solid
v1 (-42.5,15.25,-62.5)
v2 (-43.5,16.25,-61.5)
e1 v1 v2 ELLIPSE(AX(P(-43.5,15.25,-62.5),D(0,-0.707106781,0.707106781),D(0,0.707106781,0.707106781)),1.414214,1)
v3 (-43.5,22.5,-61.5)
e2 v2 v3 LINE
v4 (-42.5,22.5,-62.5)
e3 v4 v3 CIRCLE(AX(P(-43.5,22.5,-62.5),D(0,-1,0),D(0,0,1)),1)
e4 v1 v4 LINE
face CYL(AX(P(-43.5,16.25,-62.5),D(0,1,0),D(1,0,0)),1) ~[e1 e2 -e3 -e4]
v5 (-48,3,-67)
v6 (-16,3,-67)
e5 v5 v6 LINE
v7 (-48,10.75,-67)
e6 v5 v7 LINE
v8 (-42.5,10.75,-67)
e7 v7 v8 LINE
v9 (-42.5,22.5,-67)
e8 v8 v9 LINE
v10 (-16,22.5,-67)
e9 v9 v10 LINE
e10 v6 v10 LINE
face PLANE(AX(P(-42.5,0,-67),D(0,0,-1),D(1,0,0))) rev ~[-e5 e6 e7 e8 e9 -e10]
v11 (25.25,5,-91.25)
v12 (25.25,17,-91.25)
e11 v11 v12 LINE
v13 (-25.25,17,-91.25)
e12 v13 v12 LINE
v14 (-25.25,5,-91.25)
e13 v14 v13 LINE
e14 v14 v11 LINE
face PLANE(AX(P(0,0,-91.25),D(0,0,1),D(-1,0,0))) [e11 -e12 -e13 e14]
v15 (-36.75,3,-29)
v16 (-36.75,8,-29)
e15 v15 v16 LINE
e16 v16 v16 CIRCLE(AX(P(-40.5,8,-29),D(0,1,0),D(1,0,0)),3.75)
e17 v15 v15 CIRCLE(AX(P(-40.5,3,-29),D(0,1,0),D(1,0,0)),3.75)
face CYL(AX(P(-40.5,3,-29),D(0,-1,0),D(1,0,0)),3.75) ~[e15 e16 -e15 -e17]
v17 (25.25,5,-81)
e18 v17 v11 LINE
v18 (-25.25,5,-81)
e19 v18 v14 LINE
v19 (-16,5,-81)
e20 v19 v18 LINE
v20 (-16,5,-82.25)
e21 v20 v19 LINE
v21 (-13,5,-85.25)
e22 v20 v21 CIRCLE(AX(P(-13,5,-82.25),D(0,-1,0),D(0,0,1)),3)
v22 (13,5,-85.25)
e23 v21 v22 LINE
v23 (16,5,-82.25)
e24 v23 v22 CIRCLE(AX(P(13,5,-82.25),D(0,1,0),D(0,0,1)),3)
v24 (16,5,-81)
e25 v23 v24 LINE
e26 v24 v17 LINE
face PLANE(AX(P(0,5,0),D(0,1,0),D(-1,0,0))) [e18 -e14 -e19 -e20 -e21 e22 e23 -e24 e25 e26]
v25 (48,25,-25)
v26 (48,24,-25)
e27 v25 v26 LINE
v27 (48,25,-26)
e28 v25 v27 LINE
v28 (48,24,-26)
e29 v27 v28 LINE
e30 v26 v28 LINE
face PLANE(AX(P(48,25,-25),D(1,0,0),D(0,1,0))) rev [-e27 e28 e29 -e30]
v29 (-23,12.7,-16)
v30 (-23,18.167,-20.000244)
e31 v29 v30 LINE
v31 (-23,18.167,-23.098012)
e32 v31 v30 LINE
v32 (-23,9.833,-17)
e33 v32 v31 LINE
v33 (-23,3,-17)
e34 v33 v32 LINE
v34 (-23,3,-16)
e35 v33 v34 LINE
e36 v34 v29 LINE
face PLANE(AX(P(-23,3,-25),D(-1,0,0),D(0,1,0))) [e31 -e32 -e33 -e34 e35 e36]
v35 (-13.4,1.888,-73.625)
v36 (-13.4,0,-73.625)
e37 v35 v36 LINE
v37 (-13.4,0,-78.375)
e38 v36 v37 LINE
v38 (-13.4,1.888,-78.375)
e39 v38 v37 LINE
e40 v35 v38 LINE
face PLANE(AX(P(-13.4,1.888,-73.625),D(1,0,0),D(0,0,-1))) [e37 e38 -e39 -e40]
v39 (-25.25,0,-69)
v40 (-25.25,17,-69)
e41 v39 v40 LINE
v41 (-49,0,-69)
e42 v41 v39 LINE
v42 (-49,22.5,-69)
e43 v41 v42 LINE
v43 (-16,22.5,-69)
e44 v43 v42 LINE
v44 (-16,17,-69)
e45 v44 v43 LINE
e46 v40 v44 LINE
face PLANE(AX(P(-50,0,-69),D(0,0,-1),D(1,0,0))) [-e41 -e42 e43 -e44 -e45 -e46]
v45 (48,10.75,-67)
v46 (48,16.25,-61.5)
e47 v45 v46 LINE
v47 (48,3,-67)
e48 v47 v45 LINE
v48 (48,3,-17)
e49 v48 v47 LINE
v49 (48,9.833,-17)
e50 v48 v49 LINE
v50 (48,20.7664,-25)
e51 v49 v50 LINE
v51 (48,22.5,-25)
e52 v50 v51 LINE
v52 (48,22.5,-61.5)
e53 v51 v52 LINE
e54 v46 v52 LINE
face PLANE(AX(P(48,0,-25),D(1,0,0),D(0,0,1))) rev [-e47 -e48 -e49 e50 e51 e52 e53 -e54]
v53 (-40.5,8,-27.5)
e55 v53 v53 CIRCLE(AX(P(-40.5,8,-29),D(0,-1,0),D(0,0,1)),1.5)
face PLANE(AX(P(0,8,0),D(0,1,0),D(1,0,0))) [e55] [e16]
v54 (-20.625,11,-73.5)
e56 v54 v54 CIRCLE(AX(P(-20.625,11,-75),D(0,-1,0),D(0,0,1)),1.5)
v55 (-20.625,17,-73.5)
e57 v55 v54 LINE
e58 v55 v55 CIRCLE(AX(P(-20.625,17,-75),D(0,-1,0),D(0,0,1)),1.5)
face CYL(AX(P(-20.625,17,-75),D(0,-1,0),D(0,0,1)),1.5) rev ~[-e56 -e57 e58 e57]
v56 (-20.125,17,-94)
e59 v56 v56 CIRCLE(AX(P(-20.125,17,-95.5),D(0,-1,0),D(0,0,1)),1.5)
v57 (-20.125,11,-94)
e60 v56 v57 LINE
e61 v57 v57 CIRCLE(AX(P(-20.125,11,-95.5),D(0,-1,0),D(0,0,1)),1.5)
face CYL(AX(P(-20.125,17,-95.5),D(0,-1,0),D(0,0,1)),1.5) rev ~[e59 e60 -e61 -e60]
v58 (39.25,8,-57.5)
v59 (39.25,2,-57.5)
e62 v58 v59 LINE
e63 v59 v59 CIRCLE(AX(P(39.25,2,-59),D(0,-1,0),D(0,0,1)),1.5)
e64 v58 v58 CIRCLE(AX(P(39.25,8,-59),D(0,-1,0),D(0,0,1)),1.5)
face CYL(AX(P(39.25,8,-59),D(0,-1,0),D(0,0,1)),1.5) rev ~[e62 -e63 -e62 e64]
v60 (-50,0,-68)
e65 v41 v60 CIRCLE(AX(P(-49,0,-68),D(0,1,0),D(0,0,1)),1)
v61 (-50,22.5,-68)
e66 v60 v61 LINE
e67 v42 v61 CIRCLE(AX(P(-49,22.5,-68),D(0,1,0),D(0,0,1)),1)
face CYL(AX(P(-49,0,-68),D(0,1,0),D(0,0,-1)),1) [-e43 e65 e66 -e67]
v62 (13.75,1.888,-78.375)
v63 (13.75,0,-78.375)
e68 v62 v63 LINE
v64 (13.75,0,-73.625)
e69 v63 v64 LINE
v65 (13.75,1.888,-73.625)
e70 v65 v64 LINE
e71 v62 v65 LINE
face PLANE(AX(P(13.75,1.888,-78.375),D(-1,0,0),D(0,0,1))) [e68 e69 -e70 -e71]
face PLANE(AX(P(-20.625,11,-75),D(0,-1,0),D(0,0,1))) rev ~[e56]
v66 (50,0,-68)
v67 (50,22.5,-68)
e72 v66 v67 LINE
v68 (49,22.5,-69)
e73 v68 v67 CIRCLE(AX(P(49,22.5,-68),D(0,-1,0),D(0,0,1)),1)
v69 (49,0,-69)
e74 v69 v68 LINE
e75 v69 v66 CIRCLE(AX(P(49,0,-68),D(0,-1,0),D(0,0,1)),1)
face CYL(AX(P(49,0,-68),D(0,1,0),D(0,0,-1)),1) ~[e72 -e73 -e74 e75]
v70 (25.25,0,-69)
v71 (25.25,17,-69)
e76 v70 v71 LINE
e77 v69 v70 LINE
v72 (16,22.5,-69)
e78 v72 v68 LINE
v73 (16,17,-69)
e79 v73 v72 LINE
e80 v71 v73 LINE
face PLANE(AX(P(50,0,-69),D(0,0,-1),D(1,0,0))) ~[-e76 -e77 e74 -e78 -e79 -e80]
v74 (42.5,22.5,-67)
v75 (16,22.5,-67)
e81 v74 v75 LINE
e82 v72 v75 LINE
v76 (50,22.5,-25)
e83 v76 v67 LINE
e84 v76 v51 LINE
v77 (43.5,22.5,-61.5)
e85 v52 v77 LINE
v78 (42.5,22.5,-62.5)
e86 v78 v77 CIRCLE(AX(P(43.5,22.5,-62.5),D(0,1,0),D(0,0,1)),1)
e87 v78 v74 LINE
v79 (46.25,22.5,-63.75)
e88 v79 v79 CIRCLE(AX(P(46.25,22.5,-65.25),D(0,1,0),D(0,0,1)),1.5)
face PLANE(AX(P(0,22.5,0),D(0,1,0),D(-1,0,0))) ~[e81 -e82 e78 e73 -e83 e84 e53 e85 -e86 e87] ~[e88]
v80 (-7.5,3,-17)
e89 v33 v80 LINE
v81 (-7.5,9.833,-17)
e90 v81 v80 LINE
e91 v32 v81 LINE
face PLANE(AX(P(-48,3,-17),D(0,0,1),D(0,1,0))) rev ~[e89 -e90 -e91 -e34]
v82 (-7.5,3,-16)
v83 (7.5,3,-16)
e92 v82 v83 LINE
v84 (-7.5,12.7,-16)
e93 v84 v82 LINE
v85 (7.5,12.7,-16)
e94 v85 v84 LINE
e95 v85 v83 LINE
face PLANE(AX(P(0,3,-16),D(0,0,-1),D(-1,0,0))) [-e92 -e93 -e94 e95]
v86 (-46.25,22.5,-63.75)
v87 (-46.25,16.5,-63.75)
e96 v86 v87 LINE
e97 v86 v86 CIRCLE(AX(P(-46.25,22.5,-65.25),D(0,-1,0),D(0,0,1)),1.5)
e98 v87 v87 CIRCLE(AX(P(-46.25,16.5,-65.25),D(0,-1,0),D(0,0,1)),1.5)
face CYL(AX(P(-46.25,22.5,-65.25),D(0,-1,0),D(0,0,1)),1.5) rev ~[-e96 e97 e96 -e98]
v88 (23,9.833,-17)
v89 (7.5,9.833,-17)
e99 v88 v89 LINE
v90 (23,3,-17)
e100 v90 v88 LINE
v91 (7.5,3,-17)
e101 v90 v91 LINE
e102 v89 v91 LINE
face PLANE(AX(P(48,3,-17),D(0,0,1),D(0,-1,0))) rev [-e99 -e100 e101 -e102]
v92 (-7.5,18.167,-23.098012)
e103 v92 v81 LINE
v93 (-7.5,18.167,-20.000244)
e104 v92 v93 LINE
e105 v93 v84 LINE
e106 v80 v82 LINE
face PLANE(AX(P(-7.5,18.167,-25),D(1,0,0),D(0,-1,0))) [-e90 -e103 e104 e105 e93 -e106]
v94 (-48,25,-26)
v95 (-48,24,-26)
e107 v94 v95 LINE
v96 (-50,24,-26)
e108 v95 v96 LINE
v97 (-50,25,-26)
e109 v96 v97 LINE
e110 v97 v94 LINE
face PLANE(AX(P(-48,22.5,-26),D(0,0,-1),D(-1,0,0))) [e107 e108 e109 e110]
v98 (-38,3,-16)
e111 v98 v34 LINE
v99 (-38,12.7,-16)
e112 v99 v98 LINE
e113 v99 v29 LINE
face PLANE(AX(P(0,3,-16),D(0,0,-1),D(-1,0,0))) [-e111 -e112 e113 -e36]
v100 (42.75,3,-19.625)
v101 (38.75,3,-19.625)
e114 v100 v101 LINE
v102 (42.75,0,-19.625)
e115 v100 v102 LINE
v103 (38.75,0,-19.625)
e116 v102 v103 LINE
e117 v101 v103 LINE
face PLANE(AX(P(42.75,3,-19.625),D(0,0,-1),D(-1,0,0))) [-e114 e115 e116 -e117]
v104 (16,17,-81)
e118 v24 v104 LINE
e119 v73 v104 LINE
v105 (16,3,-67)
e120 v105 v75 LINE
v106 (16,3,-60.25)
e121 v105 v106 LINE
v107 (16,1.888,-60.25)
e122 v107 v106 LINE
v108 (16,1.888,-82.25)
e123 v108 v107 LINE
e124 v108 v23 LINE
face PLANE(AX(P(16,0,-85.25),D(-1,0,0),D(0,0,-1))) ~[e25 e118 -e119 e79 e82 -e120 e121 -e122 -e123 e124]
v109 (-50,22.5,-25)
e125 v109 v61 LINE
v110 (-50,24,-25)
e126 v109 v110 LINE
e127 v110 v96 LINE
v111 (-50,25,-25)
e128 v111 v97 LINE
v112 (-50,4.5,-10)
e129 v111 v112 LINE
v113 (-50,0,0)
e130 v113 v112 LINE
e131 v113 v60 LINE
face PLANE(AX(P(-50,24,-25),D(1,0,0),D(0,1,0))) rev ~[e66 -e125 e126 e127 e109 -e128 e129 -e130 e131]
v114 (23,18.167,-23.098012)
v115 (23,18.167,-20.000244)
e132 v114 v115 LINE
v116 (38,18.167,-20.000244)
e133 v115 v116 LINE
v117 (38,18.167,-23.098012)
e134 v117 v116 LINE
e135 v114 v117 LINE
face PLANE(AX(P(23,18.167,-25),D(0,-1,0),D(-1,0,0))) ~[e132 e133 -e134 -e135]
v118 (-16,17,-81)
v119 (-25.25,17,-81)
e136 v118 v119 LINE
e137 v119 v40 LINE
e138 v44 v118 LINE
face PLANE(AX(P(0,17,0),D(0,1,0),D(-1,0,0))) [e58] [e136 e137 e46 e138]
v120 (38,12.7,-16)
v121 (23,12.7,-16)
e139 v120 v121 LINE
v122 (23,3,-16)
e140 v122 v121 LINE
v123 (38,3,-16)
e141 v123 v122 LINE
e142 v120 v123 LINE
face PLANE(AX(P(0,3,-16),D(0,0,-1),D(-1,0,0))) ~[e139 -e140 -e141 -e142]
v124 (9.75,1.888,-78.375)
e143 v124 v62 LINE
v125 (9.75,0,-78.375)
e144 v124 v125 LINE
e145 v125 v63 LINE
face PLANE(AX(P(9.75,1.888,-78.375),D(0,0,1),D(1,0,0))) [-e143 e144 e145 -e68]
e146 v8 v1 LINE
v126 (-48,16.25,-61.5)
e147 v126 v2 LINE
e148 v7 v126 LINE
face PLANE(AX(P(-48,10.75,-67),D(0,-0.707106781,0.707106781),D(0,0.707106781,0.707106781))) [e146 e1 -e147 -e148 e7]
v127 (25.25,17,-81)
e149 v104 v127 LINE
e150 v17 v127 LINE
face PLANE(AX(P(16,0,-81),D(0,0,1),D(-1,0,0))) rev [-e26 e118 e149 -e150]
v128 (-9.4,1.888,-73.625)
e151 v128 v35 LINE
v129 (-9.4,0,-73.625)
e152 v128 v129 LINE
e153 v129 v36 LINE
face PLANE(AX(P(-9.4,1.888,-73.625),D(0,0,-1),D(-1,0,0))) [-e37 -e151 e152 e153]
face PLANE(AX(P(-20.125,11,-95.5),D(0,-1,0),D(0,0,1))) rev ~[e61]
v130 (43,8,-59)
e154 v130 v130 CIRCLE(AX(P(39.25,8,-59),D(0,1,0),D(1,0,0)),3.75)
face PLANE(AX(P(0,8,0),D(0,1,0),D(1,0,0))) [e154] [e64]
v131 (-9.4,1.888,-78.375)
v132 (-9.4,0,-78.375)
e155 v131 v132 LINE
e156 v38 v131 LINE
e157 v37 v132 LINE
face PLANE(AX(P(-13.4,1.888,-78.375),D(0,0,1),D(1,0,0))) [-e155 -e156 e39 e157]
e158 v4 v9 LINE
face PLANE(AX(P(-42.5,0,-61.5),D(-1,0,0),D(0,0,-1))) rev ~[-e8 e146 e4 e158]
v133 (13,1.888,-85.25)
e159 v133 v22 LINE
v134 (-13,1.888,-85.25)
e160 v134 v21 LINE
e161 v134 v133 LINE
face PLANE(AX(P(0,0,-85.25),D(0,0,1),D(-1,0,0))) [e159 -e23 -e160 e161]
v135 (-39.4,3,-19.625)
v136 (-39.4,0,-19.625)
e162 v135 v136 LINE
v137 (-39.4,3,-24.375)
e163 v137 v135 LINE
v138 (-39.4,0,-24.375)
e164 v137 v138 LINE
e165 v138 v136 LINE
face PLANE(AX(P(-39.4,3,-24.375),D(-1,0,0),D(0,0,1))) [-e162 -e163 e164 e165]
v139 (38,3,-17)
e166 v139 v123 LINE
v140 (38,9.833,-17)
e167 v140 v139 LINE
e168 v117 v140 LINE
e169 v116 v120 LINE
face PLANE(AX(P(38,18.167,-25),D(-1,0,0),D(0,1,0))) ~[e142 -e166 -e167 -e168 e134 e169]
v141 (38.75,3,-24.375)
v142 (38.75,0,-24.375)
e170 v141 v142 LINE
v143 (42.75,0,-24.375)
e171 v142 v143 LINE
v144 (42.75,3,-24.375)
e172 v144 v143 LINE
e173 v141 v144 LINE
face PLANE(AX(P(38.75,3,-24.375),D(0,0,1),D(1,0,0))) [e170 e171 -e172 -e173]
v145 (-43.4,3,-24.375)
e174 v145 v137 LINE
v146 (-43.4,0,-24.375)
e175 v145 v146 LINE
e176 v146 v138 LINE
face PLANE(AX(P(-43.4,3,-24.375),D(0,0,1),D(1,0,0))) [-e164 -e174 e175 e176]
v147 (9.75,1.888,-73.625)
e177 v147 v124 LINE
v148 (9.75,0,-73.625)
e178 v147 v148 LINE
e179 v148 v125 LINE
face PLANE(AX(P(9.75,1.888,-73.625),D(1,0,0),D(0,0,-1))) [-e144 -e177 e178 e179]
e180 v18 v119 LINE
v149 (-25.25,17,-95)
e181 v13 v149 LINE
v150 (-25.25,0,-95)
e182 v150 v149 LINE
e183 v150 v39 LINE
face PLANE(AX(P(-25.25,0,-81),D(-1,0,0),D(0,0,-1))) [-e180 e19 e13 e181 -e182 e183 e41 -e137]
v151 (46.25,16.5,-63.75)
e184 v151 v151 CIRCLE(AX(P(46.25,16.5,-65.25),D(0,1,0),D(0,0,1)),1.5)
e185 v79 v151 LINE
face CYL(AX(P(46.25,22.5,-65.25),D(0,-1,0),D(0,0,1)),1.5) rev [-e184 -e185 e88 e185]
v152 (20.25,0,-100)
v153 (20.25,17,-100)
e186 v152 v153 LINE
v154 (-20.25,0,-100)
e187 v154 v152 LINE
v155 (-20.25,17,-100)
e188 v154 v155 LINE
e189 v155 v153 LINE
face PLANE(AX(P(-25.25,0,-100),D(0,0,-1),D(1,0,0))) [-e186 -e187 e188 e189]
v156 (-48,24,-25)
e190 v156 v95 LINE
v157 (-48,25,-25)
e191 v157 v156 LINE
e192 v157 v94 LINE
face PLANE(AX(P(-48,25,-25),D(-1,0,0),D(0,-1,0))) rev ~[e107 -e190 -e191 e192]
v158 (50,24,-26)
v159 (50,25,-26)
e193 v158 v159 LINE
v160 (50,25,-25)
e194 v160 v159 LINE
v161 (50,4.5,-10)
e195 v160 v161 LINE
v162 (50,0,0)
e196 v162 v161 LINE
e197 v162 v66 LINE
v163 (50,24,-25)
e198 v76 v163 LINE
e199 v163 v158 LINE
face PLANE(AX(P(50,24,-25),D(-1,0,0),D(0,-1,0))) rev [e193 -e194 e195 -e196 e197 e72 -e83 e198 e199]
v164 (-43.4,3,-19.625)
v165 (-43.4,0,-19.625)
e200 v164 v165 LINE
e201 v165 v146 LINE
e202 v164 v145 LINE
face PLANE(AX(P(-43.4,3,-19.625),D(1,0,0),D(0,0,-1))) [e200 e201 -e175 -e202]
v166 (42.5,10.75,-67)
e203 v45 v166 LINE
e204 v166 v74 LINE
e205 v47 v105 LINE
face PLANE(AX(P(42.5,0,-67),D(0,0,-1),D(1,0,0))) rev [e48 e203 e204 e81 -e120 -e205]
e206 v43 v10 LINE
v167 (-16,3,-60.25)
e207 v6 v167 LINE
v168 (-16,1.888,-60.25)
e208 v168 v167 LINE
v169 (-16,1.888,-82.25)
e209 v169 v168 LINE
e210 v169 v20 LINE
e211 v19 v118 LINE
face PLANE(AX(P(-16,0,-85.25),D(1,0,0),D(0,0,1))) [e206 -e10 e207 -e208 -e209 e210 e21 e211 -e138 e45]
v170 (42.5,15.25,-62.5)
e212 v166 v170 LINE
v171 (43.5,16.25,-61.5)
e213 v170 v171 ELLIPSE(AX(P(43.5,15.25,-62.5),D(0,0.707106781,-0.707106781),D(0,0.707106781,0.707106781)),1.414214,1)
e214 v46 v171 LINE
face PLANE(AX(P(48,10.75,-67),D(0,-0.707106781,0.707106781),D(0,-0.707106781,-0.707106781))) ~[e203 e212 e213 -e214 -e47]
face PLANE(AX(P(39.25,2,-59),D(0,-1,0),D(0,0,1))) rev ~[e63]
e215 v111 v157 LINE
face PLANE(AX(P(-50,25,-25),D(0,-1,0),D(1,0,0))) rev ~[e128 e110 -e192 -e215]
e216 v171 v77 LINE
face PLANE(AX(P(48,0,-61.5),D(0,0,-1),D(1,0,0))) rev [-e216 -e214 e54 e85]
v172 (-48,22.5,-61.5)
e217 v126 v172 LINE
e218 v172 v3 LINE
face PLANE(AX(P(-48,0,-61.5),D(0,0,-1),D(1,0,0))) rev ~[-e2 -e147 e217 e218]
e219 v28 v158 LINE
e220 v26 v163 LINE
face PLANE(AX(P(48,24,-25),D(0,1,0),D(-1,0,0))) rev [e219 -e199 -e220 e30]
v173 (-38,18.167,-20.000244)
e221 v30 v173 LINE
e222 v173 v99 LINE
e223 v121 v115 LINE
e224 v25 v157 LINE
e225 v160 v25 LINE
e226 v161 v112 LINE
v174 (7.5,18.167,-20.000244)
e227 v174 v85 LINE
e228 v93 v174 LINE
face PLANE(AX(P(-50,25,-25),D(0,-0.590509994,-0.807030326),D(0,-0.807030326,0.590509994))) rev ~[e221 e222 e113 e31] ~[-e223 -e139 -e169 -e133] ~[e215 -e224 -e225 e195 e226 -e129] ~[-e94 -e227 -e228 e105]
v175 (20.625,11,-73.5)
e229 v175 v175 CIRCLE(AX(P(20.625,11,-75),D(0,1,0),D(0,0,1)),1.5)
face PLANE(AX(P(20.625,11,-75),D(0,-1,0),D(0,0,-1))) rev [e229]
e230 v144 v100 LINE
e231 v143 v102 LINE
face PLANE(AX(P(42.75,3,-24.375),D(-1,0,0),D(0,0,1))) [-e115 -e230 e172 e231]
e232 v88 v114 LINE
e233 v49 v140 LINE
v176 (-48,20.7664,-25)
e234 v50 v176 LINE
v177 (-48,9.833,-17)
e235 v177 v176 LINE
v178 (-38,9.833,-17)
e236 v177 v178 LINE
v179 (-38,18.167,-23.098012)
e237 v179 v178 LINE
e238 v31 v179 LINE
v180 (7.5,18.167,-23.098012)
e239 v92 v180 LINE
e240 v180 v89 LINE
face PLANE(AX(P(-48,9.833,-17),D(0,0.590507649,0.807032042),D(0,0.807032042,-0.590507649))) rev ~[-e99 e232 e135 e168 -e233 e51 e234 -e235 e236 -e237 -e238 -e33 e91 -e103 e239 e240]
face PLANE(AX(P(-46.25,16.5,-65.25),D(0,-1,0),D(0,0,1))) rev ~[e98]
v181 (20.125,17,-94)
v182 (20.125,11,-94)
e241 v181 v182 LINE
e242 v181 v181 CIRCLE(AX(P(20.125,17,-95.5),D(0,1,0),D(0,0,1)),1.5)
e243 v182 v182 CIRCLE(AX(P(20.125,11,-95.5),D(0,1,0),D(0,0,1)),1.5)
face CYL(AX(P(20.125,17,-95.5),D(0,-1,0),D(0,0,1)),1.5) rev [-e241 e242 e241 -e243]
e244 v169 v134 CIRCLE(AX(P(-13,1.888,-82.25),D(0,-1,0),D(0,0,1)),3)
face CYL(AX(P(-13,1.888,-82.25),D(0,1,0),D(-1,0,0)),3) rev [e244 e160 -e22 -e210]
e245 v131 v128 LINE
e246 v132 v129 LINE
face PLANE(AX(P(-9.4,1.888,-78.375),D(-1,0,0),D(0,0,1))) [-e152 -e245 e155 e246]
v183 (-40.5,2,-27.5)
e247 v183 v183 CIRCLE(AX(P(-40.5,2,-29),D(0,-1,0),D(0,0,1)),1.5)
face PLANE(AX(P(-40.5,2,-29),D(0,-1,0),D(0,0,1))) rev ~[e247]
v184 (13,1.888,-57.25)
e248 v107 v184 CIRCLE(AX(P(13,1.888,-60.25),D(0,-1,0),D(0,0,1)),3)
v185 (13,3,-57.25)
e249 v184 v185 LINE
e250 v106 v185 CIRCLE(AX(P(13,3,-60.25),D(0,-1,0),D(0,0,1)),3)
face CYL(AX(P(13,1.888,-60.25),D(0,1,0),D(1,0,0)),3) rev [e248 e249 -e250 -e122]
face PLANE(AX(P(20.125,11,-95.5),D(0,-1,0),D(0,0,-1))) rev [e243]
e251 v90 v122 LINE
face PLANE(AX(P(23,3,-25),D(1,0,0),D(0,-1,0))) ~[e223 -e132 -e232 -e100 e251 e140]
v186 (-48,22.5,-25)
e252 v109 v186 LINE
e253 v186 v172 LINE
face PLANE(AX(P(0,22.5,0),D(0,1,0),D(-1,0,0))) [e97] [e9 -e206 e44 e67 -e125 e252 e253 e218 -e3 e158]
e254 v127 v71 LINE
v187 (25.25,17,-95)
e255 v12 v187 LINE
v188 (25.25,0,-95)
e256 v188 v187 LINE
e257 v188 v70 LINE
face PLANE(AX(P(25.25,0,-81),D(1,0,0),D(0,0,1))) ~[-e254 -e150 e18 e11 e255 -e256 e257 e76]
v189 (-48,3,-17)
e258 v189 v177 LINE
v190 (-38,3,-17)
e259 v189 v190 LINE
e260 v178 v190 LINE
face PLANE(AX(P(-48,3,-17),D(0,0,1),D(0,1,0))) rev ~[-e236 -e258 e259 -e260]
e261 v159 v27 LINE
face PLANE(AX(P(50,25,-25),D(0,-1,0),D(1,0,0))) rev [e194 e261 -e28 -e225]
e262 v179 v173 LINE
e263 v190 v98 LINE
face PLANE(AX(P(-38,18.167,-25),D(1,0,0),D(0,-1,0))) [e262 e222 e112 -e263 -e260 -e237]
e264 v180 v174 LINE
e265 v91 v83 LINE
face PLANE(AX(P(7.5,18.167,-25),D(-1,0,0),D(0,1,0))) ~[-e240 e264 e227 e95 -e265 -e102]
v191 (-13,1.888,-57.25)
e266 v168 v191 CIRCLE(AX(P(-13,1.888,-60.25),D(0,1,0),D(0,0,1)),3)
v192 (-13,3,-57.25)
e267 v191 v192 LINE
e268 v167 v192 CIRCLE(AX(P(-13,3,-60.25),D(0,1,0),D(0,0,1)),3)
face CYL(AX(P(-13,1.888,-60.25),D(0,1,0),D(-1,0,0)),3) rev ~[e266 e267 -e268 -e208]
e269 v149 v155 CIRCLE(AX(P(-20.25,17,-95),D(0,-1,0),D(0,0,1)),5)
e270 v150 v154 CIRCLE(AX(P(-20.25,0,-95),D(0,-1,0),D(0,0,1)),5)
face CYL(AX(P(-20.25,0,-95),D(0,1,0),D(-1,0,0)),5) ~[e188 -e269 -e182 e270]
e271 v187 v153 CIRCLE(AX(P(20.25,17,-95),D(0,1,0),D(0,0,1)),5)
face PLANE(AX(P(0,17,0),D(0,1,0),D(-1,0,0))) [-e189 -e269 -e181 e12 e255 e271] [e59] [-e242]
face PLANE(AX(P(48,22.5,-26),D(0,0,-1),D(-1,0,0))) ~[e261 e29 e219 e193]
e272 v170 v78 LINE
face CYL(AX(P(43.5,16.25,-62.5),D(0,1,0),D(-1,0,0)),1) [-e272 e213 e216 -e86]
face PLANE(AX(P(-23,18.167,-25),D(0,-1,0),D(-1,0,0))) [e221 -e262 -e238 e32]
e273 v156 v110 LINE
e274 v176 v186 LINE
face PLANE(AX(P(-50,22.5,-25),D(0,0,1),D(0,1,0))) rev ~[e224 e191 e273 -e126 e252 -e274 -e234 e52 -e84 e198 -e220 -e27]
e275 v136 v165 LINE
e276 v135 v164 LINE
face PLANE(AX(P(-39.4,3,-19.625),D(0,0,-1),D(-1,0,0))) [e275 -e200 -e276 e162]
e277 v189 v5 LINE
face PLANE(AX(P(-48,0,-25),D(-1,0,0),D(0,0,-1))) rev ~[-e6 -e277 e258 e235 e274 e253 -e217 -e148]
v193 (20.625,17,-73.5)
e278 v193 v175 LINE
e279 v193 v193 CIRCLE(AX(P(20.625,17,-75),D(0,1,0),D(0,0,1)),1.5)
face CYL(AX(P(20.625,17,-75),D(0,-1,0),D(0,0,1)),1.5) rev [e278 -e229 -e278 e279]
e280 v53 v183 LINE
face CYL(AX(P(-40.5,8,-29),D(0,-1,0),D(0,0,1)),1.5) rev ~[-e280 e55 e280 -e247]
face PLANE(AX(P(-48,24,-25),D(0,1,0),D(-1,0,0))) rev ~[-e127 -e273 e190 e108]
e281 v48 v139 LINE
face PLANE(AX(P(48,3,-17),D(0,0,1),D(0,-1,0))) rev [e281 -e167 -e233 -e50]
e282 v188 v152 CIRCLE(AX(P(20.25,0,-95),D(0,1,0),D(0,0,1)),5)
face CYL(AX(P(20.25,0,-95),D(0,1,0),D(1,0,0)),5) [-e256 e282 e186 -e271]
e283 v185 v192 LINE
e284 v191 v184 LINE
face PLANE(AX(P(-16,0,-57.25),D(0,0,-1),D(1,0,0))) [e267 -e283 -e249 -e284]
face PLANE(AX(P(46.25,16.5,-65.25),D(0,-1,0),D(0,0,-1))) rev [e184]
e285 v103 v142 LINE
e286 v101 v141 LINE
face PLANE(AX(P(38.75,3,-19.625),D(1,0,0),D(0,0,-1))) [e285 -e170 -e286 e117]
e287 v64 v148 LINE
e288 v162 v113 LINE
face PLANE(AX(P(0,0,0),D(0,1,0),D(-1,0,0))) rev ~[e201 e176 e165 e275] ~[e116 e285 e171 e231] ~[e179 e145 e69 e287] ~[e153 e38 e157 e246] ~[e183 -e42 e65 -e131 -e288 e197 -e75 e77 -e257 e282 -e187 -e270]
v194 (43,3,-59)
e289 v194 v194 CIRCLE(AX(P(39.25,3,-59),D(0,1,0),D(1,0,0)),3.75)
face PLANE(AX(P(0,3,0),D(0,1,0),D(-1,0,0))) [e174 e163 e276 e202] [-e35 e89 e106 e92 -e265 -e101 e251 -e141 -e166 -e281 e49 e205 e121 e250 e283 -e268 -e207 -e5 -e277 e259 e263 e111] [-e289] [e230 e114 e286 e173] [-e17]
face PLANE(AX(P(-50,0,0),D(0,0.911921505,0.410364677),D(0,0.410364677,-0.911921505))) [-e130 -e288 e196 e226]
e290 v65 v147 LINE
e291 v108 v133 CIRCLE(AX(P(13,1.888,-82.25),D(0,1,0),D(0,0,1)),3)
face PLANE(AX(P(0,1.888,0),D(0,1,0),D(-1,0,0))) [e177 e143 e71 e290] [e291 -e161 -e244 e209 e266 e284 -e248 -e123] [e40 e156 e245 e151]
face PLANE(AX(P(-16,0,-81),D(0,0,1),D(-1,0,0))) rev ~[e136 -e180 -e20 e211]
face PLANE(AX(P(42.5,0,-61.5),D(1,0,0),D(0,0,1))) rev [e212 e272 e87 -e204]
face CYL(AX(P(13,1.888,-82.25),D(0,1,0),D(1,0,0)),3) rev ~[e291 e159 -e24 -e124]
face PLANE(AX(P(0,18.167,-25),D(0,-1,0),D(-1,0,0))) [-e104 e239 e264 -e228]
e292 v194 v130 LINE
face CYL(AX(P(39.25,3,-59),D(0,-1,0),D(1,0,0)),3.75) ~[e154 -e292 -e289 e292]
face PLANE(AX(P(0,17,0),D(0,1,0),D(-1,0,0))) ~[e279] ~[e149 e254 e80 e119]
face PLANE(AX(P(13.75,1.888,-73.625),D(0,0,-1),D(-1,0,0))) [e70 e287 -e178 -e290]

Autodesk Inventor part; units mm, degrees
ref_plane "YZ Plane" through (0, 0, 0) normal (1, 0, 0) x (0, 1, 0)
ref_plane "XZ Plane" through (0, 0, 0) normal (0, 1, 0) x (-1, 0, 0)
ref_plane "XY Plane" through (0, 0, 0) normal (0, 0, 1) x (1, 0, 0)
sketch "Náčrt1" plane through (0, 0, 0) normal (0, 1, 0) x (-1, 0, 0)
  line L0 (0, 0) -> (50, 0)
  line L1 (50, 0) -> (50, -69)
  line L2 (50, -69) -> (16, -69)
  line L3 (16, -69) -> (16, -81)
  line L4 (16, -81) -> (25.25, -81)
  line L5 (25.25, -81) -> (25.25, -69)
  line L6 (25.25, -81) -> (25.25, -91.25)
  line L7 (25.25, -91.25) -> (25.25, -100)
  line L8 (25.25, -100) -> (0, -100)
  line L9 (0, -100) -> (0, -91.25)
  line L10 (0, -91.25) -> (25.25, -91.25)
  line L11 (0, -91.25) -> (0, -85.25)
  line L12 (0, -85.25) -> (16, -85.25)
  line L13 (16, -85.25) -> (16, -81)
  line L14 (0, -85.25) -> (0, 0)
  line L15 (16, -69) -> (16, -57.25)
  line L16 (16, -57.25) -> (0, -57.25)
  line L17 (48, -25) -> (48, -61.5)
  line L18 (48, -61.5) -> (42.5, -61.5)
  line L19 (42.5, -61.5) -> (42.5, -67)
  line L20 (42.5, -67) -> (16, -67)
  line L21 (0, -25) -> (48, -25)
  dimension "d0" = 50
  dimension "d1" = 69
  dimension "d2" = 12
  dimension "d3" = 10.25
  dimension "d4" = 8.75
  dimension "d5" = 25.25
  dimension "d6" = 16
  dimension "d7" = 6
  dimension "d9" = 2
  dimension "d10" = 7.5
  dimension "d11" = 7.5
  dimension "d12" = 28
  dimension "d13" = 25
  dimension "d18" = 2
extrude "Vysunutí1" add sketch "Náčrt1" along normal blind 3 contours L21 L17 L18 L19 L20 L15 L16 L14
extrude "Vysunutí2" add sketch "Náčrt1" along normal blind 1.888 contours L16 L15 L3 L13 L12 L14
extrude "Vysunutí3" add sketch "Náčrt1" along normal blind 22.5 contours L0 L1 L2 L15 L20 L19 L18 L17 L21 L14
extrude "Vysunutí4" add sketch "Náčrt1" along normal blind 17 contours L5 L4 L3 L2 | L10 L7 L8 L9
extrude "Vysunutí15" add sketch "Náčrt1" along normal blind 5 contours L12 L13 L4 L6 L10 L11
sketch "Náčrt15" plane through (-48, 3, -61.5) normal (1, 0, 0) x (0, 0, -1)
  line L0 (5.5, 0) -> (5.5, 19.5) projected
  line L1 (0, 0) -> (0, 19.5) projected
  line L2 (0, 0) -> (5.5, 0)
  line L3 (5.5, 0) -> (5.5, 7.75)
  line L4 (5.5, 0) -> (5.5, 19.5) projected
  line L5 (5.5, 7.75) -> (0, 13.25)
  line L6 (0, 0) -> (0, 13.25)
  line L7 (0, 19.5) -> (5.5, 19.5) projected
  line L8 (0, 0) -> (-36.5, 0) projected
  point P0 (-61.5, -3)
  point P1 (5.5, 7.75)
  point P2 (2.75, 19.5)
  point P3 (2.75, 10.5)
  dimension "d107" = 45
  dimension "d110" = 9
extrude "Vysunutí14" cut sketch "Náčrt15" along normal up to surface (5.5 mm away) contours L2 L1 L5 L0
sketch "Náčrt2" plane through (-50, 0, -69) normal (-1, 0, 0) x (0, 0, 1)
  line L0 (69, 0) -> (69, 22.5) projected
  line L1 (69, 0) -> (59, 4.5)
  line L2 (0, 0) -> (69, 0) projected
  line L3 (44, 0) -> (44, 22.5)
  line L4 (44, 3) -> (44, 22.5) projected
  line L5 (44, 22.5) -> (44, 25)
  line L6 (44, 25) -> (59, 4.5)
  line L7 (0, 22.5) -> (69, 22.5) projected
  point P0 (45.8293, 22.5)
  dimension "d23" = 25
  dimension "d24" = 4.5
  dimension "d25" = 10
extrude "Vysunutí5" cut sketch "Náčrt2" against normal through all contours L1 L6 L7 L0
extrude "Vysunutí6" add sketch "Náčrt2" against normal up to surface (50 mm away) contours L7 L5 L6
sketch "Náčrt3" plane through (0, 3, -25) normal (0, 0, -1) x (-1, 0, 0)
  line L0 (23, 15.167) -> (38, 15.167)
  line L1 (38, 15.167) -> (38, 0)
  line L2 (38, 0) -> (23, 0)
  line L3 (23, 0) -> (23, 15.167)
  line L4 (0, 15.167) -> (7.5, 15.167)
  line L5 (7.5, 15.167) -> (7.5, 0)
  line L6 (7.5, 0) -> (0, 0)
  line L7 (0, 0) -> (0, 15.167)
  line L8 (50, -3) -> (0, -3) projected
  dimension "d30" = 15
  dimension "d31" = 7.5
  dimension "d32" = 15.167
  dimension "d33" = 3
  dimension "d34" = 15.5
extrude "Vysunutí7" cut sketch "Náčrt3" against normal blind 9
sketch "Náčrt7" plane through (-48, 3, -61.5) normal (1, 0, 0) x (0, 0, -1)
  line L0 (-51.5, 1.5) -> (-36.5, 22) projected
  line L1 (-36.5, 15.167) -> (-36.5, 0) projected
  line L2 (-36.5, 0) -> (-44.5, 0)
  line L3 (-36.5, 0) -> (-45.5, 0) projected
  line L4 (-44.5, 0) -> (-44.5, 6.833)
  line L5 (-44.5, 6.833) -> (-36.5, 17.7664)
  line L6 (-36.5, 17.7664) -> (-36.5, 0)
  point P0 (-61.5, -3)
  point P1 (-38.3293, 19.5)
  point P2 (-44.5, 0)
  point P3 (-36.5, 2)
  point P4 (-36.5, 2)
  dimension "d45" = 8
  dimension "d46" = 2.5
extrude "Vysunutí9" cut sketch "Náčrt7" along normal through all
sketch "Náčrt11" plane through (-48, 22.5, -25) normal (0, 0, -1) x (-1, 0, 0)
  line L0 (2, -18) -> (2, 2.5) projected
  line L1 (2, 2.5) -> (0, 2.5)
  line L2 (0, 2.5) -> (0, 1.5)
  line L3 (0, 1.5) -> (2, 1.5)
  point P0 (-48, -22.5)
  point P1 (0, 0)
  point P2 (-2, 0)
  dimension "d69" = 1
extrude "Vysunutí13" add sketch "Náčrt11" along normal blind 1
sketch "Náčrt12" plane through (0, 22.5, 0) normal (0, 1, 0) x (1, 0, 0)
  line L0 (-16, 69) -> (-50, 69) projected
  line L1 (-50, 69) -> (-50, 23.1707) projected
  point P0 (0, 0)
  point P1 (-46.25, 65.25)
  point P2 (-50, 25)
  dimension "d75" = 3.75
  dimension "d76" = 3.75
hole "Díra1" at (-46.25, 22.5, -65.25) direction (0, -1, 0) diameter 3 depth 6
sketch "Náčrt13" plane through (0, 17, 0) normal (0, 1, 0) x (1, 0, 0)
  line L0 (-16, 81) -> (-25.25, 81) projected
  line L1 (-25.25, 81) -> (-25.25, 69) projected
  point P0 (0, 0)
  point P1 (-20.625, 75)
  dimension "d84" = 6
  dimension "d85" = 4.625
hole "Díra2" at (-20.625, 17, -75) direction (0, -1, 0) diameter 3 depth 6
sketch "Náčrt14" plane through (0, 17, 0) normal (0, 1, 0) x (1, 0, 0)
  line L0 (-25.25, 100) -> (-25.25, 91.25) projected
  line L1 (0, 100) -> (-25.25, 100) projected
  point P0 (0, 0)
  point P1 (-20.125, 95.5)
  dimension "d93" = 5.125
  dimension "d101" = 4.5
hole "Díra3" at (-20.125, 17, -95.5) direction (0, -1, 0) diameter 3 depth 6
fillet "Zaoblení1" radius 3 2 edges at (-16, 2.444, -57.25) (-16, 3.444, -85.25)
fillet "Zaoblení2" radius 1 2 edges at (-42.5, 19.375, -61.5) (-50, 11.25, -69)
fillet "Zaoblení3" radius 5 1 edges at (-25.25, 8.5, -100)
mirror "Zrcadlit1" about plane through (0, 0, -25) normal (1, 0, 0)
sketch "Náčrt16" plane through (0, 1.888, 0) normal (0, 1, 0) x (1, 0, 0)
  line L0 (-9.4, 73.625) -> (-13.4, 73.625)
  line L1 (-13.4, 73.625) -> (-13.4, 78.375)
  line L2 (-13.4, 78.375) -> (-9.4, 78.375)
  line L3 (-9.4, 78.375) -> (-9.4, 73.625)
  line L4 (-16, 69) -> (-16, 81) projected
  line L5 (-13, 85.25) -> (13, 85.25) projected
  line L6 (13.75, 73.625) -> (9.75, 73.625)
  line L7 (9.75, 73.625) -> (9.75, 78.375)
  line L8 (9.75, 78.375) -> (13.75, 78.375)
  line L9 (13.75, 78.375) -> (13.75, 73.625)
  line L10 (16, 69) -> (16, 81) projected
  point P0 (0, 0)
  dimension "d128" = 4
  dimension "d129" = 4.75
  dimension "d130" = 2.6
  dimension "d131" = 6.875
  dimension "d134" = 2.25
extrude "Vysunutí16" cut sketch "Náčrt16" against normal through all
sketch "Náčrt17" plane through (0, 3, 0) normal (0, 1, 0) x (1, 0, 0)
  line L0 (-48, 17) -> (-38, 17) projected
  line L1 (-48, 17) -> (-48, 67) projected
  line L2 (48, 17) -> (38, 17) projected
  line L3 (48, 17) -> (48, 67) projected
  line L4 (-39.4, 19.625) -> (-43.4, 19.625)
  line L5 (-43.4, 19.625) -> (-43.4, 24.375)
  line L6 (-43.4, 24.375) -> (-39.4, 24.375)
  line L7 (-39.4, 24.375) -> (-39.4, 19.625)
  line L8 (42.75, 19.625) -> (38.75, 19.625)
  line L9 (38.75, 19.625) -> (38.75, 24.375)
  line L10 (38.75, 24.375) -> (42.75, 24.375)
  line L11 (42.75, 24.375) -> (42.75, 19.625)
  point P0 (0, 0)
  point P1 (-41.4, 19.625)
  point P2 (40.75, 19.625)
  dimension "d137" = 4
  dimension "d138" = 4.75
  dimension "d139" = 4.6
  dimension "d143" = 2.625
  dimension "d144" = 5.25
  dimension "d146" = 2.625
extrude "Vysunutí17" cut sketch "Náčrt17" against normal through all
sketch "Náčrt18" plane through (0, 3, 0) normal (0, 1, 0) x (1, 0, 0)
  circle A0 centre (39.25, 59) radius 3.75
  circle A1 centre (-40.5, 29) radius 3.75
  line L0 (42.5, 67) -> (16, 67) projected
  line L1 (48, 25) -> (48, 61.5) projected
  line L2 (-48, 17) -> (-38, 17) projected
  line L3 (-48, 17) -> (-48, 67) projected
  point P0 (0, 0)
  dimension "d149" = 7.5
  dimension "d150" = 8
  dimension "d151" = 8.75
  dimension "d152" = 12
  dimension "d153" = 7.5
extrude "Vysunutí18" add sketch "Náčrt18" along normal blind 5
sketch "Náčrt19" plane through (39.25, 8, -59) normal (0, 1, 0) x (1, 0, 0)
  circle A0 centre (0, 0) radius 3.75 projected
  point P0 (-39.25, -59)
hole "Díra4" at (39.25, 8, -59) direction (0, -1, 0) diameter 3 depth 6
sketch "Náčrt20" plane through (-40.5, 8, -29) normal (0, 1, 0) x (1, 0, 0)
  circle A0 centre (0, 0) radius 3.75 projected
  point P0 (40.5, -29)
hole "Díra5" at (-40.5, 8, -29) direction (0, -1, 0) diameter 3 depth 6
properties part number "Sumec_telo_V4.1"
